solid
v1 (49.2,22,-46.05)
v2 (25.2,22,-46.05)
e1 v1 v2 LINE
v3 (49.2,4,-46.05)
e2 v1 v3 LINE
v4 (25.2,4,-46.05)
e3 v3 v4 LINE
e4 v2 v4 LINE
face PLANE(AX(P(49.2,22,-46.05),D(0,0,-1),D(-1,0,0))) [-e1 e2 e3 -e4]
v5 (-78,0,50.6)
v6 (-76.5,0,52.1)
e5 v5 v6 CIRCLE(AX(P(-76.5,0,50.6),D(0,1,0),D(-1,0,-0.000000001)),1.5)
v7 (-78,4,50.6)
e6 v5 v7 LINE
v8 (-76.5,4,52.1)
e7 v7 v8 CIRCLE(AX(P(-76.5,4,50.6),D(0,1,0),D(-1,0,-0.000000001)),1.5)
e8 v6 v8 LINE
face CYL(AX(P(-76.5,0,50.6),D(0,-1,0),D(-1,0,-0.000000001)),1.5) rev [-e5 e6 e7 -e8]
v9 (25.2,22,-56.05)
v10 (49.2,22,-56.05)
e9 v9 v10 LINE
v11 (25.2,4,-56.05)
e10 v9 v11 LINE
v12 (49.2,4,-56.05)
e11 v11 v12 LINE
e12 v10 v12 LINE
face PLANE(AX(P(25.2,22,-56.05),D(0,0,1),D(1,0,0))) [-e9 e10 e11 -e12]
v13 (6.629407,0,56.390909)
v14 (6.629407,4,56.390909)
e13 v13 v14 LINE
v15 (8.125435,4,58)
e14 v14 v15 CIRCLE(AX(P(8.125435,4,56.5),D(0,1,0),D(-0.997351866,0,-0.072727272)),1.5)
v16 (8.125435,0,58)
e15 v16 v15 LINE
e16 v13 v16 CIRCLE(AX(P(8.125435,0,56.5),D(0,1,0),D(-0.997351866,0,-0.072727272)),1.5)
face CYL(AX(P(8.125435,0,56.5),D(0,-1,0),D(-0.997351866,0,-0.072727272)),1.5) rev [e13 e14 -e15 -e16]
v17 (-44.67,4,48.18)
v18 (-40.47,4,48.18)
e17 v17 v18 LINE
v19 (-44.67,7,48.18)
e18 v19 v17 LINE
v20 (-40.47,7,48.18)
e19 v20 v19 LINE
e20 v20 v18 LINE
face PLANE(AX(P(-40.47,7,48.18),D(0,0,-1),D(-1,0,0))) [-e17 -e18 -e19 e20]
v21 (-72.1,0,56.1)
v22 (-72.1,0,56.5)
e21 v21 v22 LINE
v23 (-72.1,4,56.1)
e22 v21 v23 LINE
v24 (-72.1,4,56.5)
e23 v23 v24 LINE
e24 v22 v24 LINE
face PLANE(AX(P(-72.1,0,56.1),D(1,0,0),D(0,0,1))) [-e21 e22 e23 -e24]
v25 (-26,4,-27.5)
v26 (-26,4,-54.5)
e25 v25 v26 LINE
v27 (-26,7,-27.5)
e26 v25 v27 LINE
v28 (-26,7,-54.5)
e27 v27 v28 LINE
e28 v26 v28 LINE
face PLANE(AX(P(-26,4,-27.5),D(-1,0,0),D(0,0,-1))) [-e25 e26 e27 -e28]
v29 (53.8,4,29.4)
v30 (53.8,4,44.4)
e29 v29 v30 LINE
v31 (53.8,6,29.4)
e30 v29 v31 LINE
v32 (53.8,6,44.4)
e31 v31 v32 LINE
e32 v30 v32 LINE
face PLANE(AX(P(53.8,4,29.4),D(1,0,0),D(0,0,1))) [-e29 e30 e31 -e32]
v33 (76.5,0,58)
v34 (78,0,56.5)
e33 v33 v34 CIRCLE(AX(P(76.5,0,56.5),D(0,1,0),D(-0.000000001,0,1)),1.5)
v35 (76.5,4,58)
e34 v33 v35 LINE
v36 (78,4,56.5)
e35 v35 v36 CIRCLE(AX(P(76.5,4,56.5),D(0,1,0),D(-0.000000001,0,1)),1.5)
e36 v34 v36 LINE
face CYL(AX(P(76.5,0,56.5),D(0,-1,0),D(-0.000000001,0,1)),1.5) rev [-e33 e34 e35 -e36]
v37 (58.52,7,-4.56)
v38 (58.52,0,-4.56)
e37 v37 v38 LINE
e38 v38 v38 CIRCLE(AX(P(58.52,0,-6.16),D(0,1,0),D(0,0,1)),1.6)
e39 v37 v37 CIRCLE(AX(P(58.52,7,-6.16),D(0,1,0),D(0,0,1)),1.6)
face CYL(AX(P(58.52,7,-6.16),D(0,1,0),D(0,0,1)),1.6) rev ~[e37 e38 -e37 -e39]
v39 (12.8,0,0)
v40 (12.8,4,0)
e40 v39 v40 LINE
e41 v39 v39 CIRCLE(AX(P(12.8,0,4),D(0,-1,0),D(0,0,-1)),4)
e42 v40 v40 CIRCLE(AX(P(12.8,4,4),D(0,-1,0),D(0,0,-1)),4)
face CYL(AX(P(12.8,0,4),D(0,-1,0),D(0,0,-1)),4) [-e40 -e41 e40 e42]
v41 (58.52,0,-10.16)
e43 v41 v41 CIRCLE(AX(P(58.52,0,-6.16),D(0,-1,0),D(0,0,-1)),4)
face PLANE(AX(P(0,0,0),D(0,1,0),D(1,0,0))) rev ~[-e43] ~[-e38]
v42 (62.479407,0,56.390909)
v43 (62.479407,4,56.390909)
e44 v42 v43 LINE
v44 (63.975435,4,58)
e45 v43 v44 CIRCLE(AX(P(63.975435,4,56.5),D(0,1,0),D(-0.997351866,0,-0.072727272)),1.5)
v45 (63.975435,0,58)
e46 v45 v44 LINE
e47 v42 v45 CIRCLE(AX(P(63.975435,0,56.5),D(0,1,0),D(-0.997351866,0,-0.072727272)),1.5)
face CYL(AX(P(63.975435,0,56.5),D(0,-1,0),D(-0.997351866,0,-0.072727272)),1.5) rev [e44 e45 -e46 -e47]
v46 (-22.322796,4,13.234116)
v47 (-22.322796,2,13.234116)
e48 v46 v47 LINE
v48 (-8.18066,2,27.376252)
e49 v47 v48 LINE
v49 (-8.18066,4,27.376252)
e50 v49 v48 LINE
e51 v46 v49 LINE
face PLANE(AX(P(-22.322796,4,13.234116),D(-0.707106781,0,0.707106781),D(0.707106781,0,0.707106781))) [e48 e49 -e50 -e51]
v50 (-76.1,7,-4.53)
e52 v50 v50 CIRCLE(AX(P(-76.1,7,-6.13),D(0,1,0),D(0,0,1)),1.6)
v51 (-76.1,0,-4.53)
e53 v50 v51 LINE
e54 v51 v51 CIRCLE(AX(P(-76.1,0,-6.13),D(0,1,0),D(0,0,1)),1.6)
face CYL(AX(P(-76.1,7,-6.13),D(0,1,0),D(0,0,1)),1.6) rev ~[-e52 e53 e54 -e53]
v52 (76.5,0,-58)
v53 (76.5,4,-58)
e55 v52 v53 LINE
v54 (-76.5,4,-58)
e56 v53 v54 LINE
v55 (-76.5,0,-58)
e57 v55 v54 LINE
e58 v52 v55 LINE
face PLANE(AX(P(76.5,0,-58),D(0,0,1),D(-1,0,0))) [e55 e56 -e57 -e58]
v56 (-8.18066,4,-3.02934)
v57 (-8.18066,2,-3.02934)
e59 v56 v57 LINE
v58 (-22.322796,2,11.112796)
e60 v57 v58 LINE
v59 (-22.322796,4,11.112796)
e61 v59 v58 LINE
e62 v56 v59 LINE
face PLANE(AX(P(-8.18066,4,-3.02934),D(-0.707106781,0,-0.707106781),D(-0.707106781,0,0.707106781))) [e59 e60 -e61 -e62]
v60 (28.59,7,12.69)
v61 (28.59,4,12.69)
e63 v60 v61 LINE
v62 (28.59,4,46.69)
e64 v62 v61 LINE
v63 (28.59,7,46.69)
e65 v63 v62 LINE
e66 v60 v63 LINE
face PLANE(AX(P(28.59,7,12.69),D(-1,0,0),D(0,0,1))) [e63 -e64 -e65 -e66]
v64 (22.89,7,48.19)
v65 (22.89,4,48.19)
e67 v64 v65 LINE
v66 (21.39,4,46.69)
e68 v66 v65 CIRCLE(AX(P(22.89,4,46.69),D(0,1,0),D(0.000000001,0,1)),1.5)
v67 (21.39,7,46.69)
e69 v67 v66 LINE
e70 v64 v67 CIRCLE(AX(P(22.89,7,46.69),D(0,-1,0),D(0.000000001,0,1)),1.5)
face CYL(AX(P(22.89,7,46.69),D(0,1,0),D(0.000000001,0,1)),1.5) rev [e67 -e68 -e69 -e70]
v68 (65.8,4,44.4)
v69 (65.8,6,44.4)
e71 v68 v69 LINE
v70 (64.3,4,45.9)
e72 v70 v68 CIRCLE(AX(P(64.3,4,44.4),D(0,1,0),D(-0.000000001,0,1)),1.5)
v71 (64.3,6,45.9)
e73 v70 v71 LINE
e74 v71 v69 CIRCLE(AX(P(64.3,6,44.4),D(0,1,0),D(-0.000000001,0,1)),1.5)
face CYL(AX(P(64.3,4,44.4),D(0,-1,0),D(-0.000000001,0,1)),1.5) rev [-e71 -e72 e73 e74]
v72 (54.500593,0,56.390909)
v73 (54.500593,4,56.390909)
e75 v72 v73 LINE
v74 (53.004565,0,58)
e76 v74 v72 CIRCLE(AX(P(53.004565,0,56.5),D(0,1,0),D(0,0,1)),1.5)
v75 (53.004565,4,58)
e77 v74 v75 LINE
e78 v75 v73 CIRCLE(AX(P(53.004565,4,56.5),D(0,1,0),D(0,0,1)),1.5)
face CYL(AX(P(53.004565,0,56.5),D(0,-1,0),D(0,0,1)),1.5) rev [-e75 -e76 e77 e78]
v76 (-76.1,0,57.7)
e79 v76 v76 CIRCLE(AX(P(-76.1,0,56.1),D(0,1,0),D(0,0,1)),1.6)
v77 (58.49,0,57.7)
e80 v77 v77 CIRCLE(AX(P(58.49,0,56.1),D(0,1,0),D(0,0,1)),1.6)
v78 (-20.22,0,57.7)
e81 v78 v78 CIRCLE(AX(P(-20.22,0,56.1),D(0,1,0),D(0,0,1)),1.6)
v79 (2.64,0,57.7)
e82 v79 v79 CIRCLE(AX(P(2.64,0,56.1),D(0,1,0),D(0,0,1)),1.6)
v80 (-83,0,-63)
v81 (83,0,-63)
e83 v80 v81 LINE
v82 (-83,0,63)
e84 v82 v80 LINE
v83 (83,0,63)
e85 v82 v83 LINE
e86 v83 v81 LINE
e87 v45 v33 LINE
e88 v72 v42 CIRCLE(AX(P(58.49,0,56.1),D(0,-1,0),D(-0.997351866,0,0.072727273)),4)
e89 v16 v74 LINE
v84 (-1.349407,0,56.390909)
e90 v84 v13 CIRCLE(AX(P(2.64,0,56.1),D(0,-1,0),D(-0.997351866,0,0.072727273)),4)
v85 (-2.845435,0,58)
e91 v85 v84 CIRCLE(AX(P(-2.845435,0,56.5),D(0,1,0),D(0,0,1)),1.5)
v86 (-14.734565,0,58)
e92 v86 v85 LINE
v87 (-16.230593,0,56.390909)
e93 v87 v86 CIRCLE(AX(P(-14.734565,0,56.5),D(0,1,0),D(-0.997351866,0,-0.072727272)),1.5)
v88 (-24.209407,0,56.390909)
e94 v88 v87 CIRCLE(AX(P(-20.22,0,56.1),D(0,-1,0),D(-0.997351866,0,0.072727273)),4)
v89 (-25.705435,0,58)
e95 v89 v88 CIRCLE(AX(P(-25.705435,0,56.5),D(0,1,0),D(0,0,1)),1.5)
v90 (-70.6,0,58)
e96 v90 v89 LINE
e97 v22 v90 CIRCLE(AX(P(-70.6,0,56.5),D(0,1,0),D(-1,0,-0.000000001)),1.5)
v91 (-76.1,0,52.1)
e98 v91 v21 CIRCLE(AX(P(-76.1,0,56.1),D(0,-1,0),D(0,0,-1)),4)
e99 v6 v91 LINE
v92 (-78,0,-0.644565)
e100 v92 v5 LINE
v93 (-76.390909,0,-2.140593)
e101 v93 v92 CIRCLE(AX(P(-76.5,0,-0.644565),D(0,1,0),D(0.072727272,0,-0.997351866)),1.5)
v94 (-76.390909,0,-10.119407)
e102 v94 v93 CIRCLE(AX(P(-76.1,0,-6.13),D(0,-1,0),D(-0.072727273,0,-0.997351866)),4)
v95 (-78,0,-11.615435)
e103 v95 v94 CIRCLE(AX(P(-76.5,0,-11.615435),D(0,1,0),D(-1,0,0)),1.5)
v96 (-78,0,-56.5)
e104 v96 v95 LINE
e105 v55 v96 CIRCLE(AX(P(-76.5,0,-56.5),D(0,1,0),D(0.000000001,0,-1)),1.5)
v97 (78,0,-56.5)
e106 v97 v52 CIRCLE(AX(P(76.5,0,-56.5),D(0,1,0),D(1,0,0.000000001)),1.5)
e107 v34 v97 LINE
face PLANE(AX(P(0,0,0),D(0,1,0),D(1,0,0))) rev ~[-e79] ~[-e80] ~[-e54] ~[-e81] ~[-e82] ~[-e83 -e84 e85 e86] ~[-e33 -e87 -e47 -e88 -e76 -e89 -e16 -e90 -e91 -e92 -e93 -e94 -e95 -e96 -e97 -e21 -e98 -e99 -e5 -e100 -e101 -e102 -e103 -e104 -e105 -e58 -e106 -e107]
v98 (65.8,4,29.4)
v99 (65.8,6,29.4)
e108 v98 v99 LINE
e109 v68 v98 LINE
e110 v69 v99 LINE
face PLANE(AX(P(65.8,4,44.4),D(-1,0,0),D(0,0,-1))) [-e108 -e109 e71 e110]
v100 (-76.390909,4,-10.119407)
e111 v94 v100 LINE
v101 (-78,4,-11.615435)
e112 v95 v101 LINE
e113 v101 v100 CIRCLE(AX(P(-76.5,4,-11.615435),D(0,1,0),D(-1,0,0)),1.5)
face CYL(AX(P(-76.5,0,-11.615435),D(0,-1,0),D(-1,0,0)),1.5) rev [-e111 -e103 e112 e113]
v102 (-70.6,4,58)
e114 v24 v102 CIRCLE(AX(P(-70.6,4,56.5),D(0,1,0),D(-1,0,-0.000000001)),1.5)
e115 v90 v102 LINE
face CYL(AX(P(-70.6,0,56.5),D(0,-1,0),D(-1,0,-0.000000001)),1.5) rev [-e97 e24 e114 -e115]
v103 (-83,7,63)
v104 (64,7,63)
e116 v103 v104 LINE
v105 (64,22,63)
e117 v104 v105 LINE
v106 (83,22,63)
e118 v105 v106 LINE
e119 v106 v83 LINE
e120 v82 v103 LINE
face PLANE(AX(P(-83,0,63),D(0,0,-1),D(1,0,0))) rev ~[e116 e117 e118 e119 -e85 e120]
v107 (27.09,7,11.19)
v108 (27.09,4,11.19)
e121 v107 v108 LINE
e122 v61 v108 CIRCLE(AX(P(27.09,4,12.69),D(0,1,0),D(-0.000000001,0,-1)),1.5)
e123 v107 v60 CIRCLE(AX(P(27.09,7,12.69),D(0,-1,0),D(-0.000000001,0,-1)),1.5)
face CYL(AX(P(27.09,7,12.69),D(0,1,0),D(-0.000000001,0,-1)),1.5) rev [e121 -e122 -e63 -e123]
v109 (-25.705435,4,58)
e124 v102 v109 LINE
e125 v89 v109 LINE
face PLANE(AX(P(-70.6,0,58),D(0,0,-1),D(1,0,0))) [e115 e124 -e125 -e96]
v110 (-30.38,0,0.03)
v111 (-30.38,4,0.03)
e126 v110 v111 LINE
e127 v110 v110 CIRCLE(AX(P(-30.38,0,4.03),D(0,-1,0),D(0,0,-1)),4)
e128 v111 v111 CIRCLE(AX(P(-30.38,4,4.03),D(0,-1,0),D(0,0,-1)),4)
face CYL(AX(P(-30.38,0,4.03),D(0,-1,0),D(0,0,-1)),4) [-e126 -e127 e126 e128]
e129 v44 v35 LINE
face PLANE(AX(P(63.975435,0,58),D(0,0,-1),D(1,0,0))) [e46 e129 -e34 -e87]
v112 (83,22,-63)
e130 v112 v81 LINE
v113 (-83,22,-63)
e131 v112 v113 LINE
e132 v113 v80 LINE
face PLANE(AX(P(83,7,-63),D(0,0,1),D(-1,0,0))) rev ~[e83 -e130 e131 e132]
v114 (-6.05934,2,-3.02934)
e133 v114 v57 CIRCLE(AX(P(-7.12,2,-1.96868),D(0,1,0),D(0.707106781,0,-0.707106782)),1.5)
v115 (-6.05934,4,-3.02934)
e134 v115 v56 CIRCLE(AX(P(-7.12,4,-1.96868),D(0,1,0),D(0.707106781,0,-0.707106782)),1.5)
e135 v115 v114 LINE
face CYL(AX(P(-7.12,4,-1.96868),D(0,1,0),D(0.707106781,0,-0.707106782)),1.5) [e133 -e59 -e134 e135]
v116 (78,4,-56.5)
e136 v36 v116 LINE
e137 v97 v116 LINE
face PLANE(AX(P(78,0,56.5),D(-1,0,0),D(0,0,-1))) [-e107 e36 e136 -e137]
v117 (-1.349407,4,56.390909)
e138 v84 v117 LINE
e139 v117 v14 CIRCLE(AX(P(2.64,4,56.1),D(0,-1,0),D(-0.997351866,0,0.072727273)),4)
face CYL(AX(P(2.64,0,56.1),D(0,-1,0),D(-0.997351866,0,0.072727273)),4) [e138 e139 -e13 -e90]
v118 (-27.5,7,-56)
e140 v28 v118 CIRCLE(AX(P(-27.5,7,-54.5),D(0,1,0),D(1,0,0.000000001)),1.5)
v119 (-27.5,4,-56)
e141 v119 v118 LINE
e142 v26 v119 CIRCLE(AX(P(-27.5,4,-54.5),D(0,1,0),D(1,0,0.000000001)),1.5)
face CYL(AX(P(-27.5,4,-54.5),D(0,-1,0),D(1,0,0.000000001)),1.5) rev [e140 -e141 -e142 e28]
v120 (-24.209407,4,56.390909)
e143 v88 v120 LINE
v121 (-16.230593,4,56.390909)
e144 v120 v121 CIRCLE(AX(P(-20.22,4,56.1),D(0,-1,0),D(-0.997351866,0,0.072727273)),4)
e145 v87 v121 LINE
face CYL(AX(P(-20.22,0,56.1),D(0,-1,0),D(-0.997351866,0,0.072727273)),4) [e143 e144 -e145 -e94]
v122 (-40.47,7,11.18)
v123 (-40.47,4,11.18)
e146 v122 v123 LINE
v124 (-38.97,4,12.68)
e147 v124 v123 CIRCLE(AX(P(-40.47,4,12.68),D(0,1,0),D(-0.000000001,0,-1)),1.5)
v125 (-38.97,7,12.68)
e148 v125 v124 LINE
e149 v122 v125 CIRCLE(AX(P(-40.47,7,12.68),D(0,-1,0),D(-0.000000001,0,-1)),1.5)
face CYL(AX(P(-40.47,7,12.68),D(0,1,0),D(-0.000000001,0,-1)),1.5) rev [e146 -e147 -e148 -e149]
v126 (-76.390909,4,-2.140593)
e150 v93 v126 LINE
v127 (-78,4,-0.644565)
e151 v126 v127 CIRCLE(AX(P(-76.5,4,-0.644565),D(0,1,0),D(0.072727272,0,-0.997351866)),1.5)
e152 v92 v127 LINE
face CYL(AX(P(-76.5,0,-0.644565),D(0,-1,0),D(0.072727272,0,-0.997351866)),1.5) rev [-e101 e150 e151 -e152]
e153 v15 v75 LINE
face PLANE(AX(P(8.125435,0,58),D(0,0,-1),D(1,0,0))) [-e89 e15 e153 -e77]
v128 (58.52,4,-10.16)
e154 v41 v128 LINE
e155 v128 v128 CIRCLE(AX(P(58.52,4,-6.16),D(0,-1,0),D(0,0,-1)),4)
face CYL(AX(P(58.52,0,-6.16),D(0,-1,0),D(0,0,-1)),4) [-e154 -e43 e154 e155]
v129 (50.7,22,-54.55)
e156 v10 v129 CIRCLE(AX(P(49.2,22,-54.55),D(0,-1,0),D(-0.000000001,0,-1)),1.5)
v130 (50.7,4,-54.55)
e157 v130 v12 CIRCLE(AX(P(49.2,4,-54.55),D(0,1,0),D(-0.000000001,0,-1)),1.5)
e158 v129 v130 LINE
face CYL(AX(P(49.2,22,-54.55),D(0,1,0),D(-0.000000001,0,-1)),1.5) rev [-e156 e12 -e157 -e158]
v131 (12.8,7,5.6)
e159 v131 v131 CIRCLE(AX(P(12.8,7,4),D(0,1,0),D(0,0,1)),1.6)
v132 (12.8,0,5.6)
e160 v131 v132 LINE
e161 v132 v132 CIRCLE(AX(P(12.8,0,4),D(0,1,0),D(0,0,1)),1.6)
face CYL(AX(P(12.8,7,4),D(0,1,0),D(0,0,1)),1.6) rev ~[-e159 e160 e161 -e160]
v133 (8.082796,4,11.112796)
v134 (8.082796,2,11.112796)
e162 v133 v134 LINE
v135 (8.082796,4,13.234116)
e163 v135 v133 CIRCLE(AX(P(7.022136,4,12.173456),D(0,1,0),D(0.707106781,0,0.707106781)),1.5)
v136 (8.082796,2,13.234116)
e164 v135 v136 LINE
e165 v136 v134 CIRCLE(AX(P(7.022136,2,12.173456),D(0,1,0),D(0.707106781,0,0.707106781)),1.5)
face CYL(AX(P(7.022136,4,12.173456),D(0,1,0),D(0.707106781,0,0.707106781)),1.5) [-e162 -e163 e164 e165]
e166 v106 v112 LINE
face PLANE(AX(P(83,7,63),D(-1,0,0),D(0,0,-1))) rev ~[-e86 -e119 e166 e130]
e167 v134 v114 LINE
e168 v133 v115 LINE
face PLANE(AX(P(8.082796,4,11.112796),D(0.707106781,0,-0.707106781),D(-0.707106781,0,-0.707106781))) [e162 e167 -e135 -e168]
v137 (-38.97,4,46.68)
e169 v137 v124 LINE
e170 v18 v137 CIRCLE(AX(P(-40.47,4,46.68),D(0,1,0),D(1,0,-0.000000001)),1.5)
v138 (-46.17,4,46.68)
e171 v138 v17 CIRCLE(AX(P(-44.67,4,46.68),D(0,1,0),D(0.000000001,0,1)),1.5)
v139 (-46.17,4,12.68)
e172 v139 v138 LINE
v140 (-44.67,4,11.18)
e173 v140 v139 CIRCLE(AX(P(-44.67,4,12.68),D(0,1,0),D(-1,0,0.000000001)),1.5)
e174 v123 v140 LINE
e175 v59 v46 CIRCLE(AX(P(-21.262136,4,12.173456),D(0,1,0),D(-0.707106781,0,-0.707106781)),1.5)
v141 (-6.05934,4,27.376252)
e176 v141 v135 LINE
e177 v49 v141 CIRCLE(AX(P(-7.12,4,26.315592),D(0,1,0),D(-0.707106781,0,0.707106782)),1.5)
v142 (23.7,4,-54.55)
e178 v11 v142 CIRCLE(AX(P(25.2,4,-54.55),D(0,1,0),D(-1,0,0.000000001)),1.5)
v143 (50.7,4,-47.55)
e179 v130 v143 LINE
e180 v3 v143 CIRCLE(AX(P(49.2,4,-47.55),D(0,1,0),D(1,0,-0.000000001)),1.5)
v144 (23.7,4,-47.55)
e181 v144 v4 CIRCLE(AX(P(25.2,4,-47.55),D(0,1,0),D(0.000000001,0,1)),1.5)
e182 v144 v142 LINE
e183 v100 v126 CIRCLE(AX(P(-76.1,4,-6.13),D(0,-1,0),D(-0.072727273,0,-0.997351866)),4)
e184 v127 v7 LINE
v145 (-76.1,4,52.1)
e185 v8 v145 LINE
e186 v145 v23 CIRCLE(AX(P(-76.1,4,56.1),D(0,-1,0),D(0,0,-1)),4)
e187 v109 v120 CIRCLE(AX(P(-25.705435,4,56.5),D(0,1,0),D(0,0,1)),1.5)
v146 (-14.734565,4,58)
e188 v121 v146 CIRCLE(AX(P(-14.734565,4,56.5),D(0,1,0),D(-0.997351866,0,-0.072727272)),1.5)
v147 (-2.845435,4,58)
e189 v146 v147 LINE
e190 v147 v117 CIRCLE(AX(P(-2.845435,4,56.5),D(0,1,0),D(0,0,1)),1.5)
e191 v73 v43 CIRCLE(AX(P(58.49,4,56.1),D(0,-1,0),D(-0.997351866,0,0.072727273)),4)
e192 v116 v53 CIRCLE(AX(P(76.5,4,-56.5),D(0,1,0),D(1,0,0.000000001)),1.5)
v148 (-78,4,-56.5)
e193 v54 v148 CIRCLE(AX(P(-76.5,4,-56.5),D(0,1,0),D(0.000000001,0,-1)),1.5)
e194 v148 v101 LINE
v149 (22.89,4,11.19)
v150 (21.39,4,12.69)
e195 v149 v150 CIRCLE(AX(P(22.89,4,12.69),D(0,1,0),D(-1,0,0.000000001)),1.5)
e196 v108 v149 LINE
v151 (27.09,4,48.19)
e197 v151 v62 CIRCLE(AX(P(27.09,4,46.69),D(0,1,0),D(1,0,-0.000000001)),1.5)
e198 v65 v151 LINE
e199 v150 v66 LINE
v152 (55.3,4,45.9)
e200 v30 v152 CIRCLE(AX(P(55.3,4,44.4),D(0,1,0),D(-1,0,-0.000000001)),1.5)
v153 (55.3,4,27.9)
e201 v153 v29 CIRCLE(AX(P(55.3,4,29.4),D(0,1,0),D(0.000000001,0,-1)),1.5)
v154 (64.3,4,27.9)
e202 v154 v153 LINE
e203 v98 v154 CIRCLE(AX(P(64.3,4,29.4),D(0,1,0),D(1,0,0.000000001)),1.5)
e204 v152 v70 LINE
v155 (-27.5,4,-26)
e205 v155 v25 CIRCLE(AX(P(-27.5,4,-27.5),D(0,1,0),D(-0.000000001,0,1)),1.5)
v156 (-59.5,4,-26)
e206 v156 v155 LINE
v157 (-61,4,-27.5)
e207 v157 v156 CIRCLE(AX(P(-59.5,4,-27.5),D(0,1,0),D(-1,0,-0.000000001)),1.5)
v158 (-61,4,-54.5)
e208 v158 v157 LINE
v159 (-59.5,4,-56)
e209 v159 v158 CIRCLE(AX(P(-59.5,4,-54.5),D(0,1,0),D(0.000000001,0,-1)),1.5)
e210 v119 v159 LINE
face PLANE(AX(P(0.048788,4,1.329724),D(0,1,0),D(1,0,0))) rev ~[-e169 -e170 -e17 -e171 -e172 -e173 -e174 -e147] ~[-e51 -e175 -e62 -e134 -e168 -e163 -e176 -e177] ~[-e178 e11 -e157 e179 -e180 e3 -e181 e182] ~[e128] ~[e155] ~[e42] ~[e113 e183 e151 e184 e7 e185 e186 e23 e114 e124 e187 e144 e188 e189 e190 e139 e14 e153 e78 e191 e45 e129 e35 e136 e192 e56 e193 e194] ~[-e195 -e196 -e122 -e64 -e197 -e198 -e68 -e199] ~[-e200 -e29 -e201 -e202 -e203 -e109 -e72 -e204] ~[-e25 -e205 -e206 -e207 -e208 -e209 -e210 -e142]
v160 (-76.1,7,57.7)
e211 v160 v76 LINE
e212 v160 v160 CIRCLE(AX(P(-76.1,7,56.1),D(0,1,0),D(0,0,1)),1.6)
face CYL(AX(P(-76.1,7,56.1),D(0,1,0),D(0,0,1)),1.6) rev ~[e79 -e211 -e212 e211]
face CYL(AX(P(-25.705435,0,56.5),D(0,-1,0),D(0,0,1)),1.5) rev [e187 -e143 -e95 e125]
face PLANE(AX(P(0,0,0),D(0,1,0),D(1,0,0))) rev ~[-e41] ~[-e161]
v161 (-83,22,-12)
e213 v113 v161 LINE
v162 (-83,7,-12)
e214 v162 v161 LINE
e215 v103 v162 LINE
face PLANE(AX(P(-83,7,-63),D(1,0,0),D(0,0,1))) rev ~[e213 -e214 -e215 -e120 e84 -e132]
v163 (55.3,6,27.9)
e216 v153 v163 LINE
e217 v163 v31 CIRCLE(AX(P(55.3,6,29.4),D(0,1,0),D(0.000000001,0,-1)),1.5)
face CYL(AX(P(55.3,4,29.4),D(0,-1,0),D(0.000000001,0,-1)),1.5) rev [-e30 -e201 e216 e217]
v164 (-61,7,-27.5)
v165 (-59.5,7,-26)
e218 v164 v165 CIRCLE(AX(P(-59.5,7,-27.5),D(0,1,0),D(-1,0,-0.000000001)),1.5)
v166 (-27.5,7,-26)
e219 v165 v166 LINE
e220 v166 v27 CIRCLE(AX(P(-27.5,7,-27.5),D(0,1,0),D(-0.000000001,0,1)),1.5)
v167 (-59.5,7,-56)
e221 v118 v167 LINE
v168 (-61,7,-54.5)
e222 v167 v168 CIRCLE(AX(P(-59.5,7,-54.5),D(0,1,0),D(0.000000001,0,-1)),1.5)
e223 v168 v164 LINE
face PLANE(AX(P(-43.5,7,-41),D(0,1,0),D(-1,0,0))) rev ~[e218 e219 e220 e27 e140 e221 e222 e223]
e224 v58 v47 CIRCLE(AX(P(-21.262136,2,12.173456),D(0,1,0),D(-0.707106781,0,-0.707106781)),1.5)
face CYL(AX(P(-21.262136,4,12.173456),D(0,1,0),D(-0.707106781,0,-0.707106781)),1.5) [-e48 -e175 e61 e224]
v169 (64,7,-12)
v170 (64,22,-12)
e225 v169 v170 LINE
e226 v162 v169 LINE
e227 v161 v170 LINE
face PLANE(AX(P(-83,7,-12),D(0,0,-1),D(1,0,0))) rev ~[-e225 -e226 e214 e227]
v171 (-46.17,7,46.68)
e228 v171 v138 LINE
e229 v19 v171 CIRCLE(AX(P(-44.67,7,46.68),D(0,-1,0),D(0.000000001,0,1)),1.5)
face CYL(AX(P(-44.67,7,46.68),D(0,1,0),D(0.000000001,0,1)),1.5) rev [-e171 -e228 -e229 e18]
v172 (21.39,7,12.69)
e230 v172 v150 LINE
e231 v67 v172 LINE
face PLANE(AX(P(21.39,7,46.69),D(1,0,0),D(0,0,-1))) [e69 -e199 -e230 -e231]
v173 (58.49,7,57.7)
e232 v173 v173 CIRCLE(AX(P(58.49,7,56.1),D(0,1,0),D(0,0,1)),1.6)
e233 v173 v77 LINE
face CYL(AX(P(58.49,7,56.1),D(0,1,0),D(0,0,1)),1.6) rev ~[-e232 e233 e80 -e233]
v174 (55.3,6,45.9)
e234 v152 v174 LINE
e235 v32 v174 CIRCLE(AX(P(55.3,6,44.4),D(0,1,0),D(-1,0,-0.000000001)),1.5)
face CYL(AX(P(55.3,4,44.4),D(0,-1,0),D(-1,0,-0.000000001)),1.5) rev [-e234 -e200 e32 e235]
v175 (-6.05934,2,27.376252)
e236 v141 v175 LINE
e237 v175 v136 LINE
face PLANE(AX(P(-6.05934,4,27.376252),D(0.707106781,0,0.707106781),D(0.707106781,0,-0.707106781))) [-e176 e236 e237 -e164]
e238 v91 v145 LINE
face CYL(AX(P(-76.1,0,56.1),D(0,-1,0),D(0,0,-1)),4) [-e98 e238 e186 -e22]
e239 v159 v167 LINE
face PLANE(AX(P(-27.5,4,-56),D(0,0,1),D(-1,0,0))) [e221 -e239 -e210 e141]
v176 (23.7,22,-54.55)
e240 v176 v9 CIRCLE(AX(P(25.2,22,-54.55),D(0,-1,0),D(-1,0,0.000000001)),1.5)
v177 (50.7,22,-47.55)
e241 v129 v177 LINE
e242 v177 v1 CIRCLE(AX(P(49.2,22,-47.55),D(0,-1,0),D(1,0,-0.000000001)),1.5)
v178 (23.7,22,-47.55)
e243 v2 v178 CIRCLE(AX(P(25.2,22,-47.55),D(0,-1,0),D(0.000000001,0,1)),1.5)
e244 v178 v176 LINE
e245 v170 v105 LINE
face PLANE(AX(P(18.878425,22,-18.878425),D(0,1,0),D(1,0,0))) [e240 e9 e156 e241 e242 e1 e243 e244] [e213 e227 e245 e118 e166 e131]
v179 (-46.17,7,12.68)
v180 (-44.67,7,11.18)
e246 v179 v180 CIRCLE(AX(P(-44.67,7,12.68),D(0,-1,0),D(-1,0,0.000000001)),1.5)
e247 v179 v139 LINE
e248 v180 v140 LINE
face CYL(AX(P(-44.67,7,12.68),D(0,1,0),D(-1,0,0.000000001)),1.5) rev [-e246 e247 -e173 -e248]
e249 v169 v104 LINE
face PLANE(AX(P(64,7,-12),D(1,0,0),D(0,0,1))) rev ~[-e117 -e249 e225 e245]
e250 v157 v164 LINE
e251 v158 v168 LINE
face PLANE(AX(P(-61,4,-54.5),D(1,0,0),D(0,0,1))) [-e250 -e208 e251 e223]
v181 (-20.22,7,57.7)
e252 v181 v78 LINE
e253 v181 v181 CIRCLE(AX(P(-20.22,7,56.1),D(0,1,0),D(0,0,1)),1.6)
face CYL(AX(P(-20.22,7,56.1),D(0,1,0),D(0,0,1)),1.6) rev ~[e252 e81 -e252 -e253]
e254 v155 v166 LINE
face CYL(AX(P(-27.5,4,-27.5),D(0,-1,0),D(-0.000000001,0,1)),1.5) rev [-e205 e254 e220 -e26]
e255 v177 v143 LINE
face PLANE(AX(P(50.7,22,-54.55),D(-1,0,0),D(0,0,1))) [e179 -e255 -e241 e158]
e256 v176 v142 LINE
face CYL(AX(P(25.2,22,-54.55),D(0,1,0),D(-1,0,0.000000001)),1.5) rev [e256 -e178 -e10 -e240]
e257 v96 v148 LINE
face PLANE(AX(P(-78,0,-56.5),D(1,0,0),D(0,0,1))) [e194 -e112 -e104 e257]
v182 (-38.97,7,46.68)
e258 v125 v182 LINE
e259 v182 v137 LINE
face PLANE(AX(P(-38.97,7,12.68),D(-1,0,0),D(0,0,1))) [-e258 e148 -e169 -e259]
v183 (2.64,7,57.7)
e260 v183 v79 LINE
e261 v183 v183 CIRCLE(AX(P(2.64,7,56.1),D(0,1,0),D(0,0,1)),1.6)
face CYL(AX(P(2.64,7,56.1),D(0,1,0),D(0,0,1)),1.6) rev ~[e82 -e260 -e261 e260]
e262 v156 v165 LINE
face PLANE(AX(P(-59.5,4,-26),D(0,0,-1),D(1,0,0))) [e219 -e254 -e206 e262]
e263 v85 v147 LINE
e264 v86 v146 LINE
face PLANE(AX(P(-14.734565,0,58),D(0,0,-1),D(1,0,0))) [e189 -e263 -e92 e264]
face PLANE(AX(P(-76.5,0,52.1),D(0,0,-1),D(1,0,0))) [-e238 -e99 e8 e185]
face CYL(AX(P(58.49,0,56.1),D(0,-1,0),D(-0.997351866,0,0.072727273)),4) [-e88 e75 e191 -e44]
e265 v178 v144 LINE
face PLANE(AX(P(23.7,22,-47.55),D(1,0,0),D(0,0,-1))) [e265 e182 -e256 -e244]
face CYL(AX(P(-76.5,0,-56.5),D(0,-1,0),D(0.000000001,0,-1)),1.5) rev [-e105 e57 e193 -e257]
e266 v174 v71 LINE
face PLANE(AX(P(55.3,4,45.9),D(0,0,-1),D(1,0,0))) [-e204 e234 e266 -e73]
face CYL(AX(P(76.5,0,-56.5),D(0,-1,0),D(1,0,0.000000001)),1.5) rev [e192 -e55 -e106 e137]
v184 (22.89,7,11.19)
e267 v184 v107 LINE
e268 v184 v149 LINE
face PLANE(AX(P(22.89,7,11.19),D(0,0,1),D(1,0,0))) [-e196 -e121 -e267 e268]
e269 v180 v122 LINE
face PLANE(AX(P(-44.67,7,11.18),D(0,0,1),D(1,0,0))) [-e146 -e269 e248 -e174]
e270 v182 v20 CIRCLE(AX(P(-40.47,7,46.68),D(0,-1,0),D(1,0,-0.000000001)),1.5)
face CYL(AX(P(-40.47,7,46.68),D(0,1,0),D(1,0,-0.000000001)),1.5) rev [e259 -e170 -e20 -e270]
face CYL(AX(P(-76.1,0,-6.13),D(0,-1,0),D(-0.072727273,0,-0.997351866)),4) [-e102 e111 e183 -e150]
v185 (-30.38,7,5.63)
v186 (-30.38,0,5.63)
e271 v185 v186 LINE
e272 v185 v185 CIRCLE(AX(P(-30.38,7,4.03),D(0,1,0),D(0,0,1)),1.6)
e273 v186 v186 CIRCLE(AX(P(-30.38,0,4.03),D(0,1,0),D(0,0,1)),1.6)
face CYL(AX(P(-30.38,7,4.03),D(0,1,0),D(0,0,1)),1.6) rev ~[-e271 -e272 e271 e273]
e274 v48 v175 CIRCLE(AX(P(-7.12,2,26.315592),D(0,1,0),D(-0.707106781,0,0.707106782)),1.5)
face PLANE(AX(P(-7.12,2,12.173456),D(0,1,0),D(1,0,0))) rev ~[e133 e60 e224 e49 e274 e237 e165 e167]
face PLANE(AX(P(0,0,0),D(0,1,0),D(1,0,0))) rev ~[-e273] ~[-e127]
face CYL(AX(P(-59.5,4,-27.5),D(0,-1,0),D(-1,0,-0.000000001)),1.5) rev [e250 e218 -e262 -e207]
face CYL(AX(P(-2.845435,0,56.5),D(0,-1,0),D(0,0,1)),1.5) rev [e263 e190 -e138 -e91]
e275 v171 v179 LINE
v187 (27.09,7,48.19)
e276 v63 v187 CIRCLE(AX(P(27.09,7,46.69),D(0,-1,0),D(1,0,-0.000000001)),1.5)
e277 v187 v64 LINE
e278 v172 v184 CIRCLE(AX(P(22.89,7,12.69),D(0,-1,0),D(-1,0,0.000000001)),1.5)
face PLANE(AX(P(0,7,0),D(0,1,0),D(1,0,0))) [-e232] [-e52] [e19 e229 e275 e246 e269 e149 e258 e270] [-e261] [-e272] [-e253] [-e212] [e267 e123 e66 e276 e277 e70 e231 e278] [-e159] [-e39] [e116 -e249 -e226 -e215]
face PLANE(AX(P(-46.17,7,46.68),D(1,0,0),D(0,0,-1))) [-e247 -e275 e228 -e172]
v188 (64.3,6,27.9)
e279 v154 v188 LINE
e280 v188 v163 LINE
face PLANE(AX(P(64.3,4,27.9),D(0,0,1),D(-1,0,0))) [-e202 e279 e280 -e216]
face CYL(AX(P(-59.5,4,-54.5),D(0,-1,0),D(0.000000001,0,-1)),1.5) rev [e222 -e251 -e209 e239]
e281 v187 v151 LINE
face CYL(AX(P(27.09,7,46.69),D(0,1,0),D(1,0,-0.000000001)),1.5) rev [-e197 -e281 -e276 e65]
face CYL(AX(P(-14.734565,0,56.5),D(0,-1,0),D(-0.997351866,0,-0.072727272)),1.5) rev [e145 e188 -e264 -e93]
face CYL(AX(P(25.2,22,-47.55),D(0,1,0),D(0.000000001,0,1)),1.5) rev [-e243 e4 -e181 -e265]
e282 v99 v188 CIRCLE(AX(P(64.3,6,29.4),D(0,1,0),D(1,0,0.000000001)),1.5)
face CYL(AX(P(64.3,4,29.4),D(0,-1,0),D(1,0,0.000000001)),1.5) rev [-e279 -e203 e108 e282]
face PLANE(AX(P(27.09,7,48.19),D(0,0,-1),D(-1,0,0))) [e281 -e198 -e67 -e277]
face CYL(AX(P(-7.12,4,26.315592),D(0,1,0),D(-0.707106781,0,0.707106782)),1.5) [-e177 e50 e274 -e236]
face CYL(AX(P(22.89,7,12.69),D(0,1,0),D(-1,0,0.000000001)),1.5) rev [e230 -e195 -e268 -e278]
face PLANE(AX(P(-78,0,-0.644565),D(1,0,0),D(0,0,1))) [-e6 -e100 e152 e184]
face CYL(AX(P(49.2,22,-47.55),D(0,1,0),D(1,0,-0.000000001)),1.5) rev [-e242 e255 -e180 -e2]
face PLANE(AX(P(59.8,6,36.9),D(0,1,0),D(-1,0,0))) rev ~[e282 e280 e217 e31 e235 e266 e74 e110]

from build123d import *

# Parameters (mm, degrees)
SKETCH1_W           = 166
SKETCH1_H           = 126
BOSS_EXTRUDE1_DEPTH = 7
BOSS_EXTRUDE2_DEPTH = 15
CUT_EXTRUDE1_REACH  = 107.276
SKETCH4_R           = 1.6
CUT_EXTRUDE2_DEPTH  = 106.275828185
SKETCH5_R           = 4
CUT_EXTRUDE3_DEPTH  = 4
CUT_EXTRUDE4_DEPTH  = 107.498826285
CUT_EXTRUDE5_DEPTH  = 3
CUT_EXTRUDE6_DEPTH  = 2
BOSS_EXTRUDE3_DEPTH = 2


with BuildPart() as part:
    # Sketch1 → Boss-Extrude1 (new body)
    with BuildSketch(Plane(origin=(0, 0, 0), x_dir=(1, 0, 0), z_dir=(0, 1, 0))):
        Rectangle(SKETCH1_W, SKETCH1_H)
    extrude(amount=BOSS_EXTRUDE1_DEPTH)

    # Sketch2 → Boss-Extrude2 (add)
    with BuildSketch(Plane(origin=(0, 7, 0), x_dir=(1, 0, 0), z_dir=(0, 1, 0))):
        Polygon((-83, 63), (-83, 12), (64, 12), (64, -63), (83, -63), (83, 63), align=None)
    extrude(amount=BOSS_EXTRUDE2_DEPTH)

    # Sketch3 → Cut-Extrude1 (cut, up to next)
    with BuildSketch(Plane(origin=(0, 7, 0), x_dir=(1, 0, 0), z_dir=(0, 1, 0)), mode=Mode.PRIVATE) as cut_extrude1_sk1:
        with BuildLine():
            Line((-44.67, -11.18), (-40.47, -11.18))
            ThreePointArc((-40.47, -11.18), (-39.409339828, -11.619339828), (-38.97, -12.68))
            Line((-38.97, -12.68), (-38.97, -46.68))
            ThreePointArc((-38.97, -46.68), (-39.409339828, -47.740660172), (-40.47, -48.18))
            Line((-40.47, -48.18), (-44.67, -48.18))
            ThreePointArc((-44.67, -48.18), (-45.730660172, -47.740660172), (-46.17, -46.68))
            Line((-46.17, -46.68), (-46.17, -12.68))
            ThreePointArc((-46.17, -12.68), (-45.730660172, -11.619339828), (-44.67, -11.18))
        make_face()
    cut_extrude1_tool1 = extrude(cut_extrude1_sk1.sketch, amount=-CUT_EXTRUDE1_REACH, mode=Mode.PRIVATE) & part.part
    # Sketch3 → Cut-Extrude1 (cut, up to next)
    with BuildSketch(Plane(origin=(0, 7, 0), x_dir=(1, 0, 0), z_dir=(0, 1, 0)), mode=Mode.PRIVATE) as cut_extrude1_sk2:
        with BuildLine():
            Line((22.89, -11.19), (27.09, -11.19))
            ThreePointArc((27.09, -11.19), (28.150660172, -11.629339828), (28.59, -12.69))
            Line((28.59, -12.69), (28.59, -46.69))
            ThreePointArc((28.59, -46.69), (28.150660172, -47.750660172), (27.09, -48.19))
            Line((27.09, -48.19), (22.89, -48.19))
            ThreePointArc((22.89, -48.19), (21.829339828, -47.750660172), (21.39, -46.69))
            Line((21.39, -46.69), (21.39, -12.69))
            ThreePointArc((21.39, -12.69), (21.829339828, -11.629339828), (22.89, -11.19))
        make_face()
    cut_extrude1_tool2 = extrude(cut_extrude1_sk2.sketch, amount=-CUT_EXTRUDE1_REACH, mode=Mode.PRIVATE) & part.part
    add(cut_extrude1_tool1.solids().sort_by_distance((-42.57, 7, 29.68))[0], mode=Mode.SUBTRACT)
    add(cut_extrude1_tool2.solids().sort_by_distance((24.99, 7, 29.69))[0], mode=Mode.SUBTRACT)

    # Sketch4 → Cut-Extrude2 (cut, through all)
    with BuildSketch(Plane(origin=(0, 7, 0), x_dir=(1, 0, 0), z_dir=(0, 1, 0))):
        with Locations(Location((-76.1, -56.1, 0), (0, 0, 270))):
            Circle(SKETCH4_R)
        with Locations(Location((-20.22, -56.1, 0), (0, 0, 270))):
            Circle(SKETCH4_R)
        with Locations(Location((2.64, -56.1, 0), (0, 0, 270))):
            Circle(SKETCH4_R)
        with Locations(Location((58.49, -56.1, 0), (0, 0, 270))):
            Circle(SKETCH4_R)
        with Locations(Location((-76.1, 6.13, 0), (0, 0, 270))):
            Circle(SKETCH4_R)
        with Locations(Location((-30.38, -4.03, 0), (0, 0, 270))):
            Circle(SKETCH4_R)
        with Locations(Location((58.52, 6.16, 0), (0, 0, 270))):
            Circle(SKETCH4_R)
        with Locations(Location((12.8, -4, 0), (0, 0, 270))):
            Circle(SKETCH4_R)
    extrude(amount=-CUT_EXTRUDE2_DEPTH, mode=Mode.SUBTRACT)

    # Sketch5 → Cut-Extrude3 (cut)
    with BuildSketch(Plane(origin=(0, 0, 0), x_dir=(-1, 0, 0), z_dir=(0, -1, 0))):
        with BuildLine():
            Line((70.6, -58), (25.705435261, -58))
            ThreePointArc((25.705435261, -58), (24.606882494, -57.521362726), (24.209407462, -56.390909091))
            ThreePointArc((24.209407462, -56.390909091), (20.22, -52.1), (16.230592538, -56.390909091))
            ThreePointArc((16.230592538, -56.390909091), (15.833117506, -57.521362726), (14.734564739, -58))
            Line((14.734564739, -58), (2.845435261, -58))
            ThreePointArc((2.845435261, -58), (1.746882494, -57.521362726), (1.349407462, -56.390909091))
            ThreePointArc((1.349407462, -56.390909091), (-2.64, -52.1), (-6.629407462, -56.390909091))
            ThreePointArc((-6.629407462, -56.390909091), (-7.026882494, -57.521362726), (-8.125435261, -58))
            Line((-8.125435261, -58), (-53.004564739, -58))
            ThreePointArc((-53.004564739, -58), (-54.103117506, -57.521362726), (-54.500592538, -56.390909091))
            ThreePointArc((-54.500592538, -56.390909091), (-58.49, -52.1), (-62.479407462, -56.390909091))
            ThreePointArc((-62.479407462, -56.390909091), (-62.876882494, -57.521362726), (-63.975435261, -58))
            Line((-63.975435261, -58), (-76.5, -58))
            ThreePointArc((-76.5, -58), (-77.560660172, -57.560660172), (-78, -56.5))
            Line((-78, -56.5), (-78, 56.5))
            ThreePointArc((-78, 56.5), (-77.560660172, 57.560660172), (-76.5, 58))
            Line((-76.5, 58), (76.5, 58))
            ThreePointArc((76.5, 58), (77.560660172, 57.560660172), (78, 56.5))
            Line((78, 56.5), (78, 11.615435261))
            ThreePointArc((78, 11.615435261), (77.521362726, 10.516882494), (76.390909091, 10.119407462))
            ThreePointArc((76.390909091, 10.119407462), (72.1, 6.13), (76.390909091, 2.140592538))
            ThreePointArc((76.390909091, 2.140592538), (77.521362726, 1.743117506), (78, 0.644564739))
            Line((78, 0.644564739), (78, -50.6))
            ThreePointArc((78, -50.6), (77.560660172, -51.660660172), (76.5, -52.1))
            Line((76.5, -52.1), (76.1, -52.1))
            ThreePointArc((76.1, -52.1), (73.271572875, -53.271572875), (72.1, -56.1))
            Line((72.1, -56.1), (72.1, -56.5))
            ThreePointArc((72.1, -56.5), (71.660660172, -57.560660172), (70.6, -58))
        make_face()
        with Locations(Location((30.38, -4.03, 0), (0, 0, 90))):
            Circle(SKETCH5_R, mode=Mode.SUBTRACT)
        with Locations(Location((-12.8, -4, 0), (0, 0, 90))):
            Circle(SKETCH5_R, mode=Mode.SUBTRACT)
        with Locations(Location((-58.52, 6.16, 0), (0, 0, 90))):
            Circle(SKETCH5_R, mode=Mode.SUBTRACT)
    extrude(amount=-CUT_EXTRUDE3_DEPTH, mode=Mode.SUBTRACT)

    # Sketch6 → Cut-Extrude4 (cut, through all)
    with BuildSketch(Plane(origin=(0, 22, 0), x_dir=(1, 0, 0), z_dir=(0, 1, 0))):
        with BuildLine():
            Line((25.2, 56.05), (49.2, 56.05))
            ThreePointArc((49.2, 56.05), (50.260660172, 55.610660172), (50.7, 54.55))
            Line((50.7, 54.55), (50.7, 47.55))
            ThreePointArc((50.7, 47.55), (50.260660172, 46.489339828), (49.2, 46.05))
            Line((49.2, 46.05), (25.2, 46.05))
            ThreePointArc((25.2, 46.05), (24.139339828, 46.489339828), (23.7, 47.55))
            Line((23.7, 47.55), (23.7, 54.55))
            ThreePointArc((23.7, 54.55), (24.139339828, 55.610660172), (25.2, 56.05))
        make_face()
    extrude(amount=-CUT_EXTRUDE4_DEPTH, mode=Mode.SUBTRACT)

    # Sketch7 → Cut-Extrude5 (cut)
    with BuildSketch(Plane.XZ.offset(-4)):
        with BuildLine():
            Line((-27.5, -56), (-59.5, -56))
            ThreePointArc((-59.5, -56), (-60.560660172, -55.560660172), (-61, -54.5))
            Line((-61, -54.5), (-61, -27.5))
            ThreePointArc((-61, -27.5), (-60.560660172, -26.439339828), (-59.5, -26))
            Line((-59.5, -26), (-27.5, -26))
            ThreePointArc((-27.5, -26), (-26.439339828, -26.439339828), (-26, -27.5))
            Line((-26, -27.5), (-26, -54.5))
            ThreePointArc((-26, -54.5), (-26.439339828, -55.560660172), (-27.5, -56))
        make_face()
    extrude(amount=-CUT_EXTRUDE5_DEPTH, mode=Mode.SUBTRACT)

    # Sketch8 → Cut-Extrude6 (cut)
    with BuildSketch(Plane.XZ.offset(-4)):
        with BuildLine():
            Line((55.3, 45.9), (64.3, 45.9))
            ThreePointArc((64.3, 45.9), (65.360660172, 45.460660172), (65.8, 44.4))
            Line((65.8, 44.4), (65.8, 29.4))
            ThreePointArc((65.8, 29.4), (65.360660172, 28.339339828), (64.3, 27.9))
            Line((64.3, 27.9), (55.3, 27.9))
            ThreePointArc((55.3, 27.9), (54.239339828, 28.339339828), (53.8, 29.4))
            Line((53.8, 29.4), (53.8, 44.4))
            ThreePointArc((53.8, 44.4), (54.239339828, 45.460660172), (55.3, 45.9))
        make_face()
    extrude(amount=-CUT_EXTRUDE6_DEPTH, mode=Mode.SUBTRACT)

    # Sketch9 → Boss-Extrude3 (add)
    with BuildSketch(Plane(origin=(0, 4, 0), x_dir=(-1, 0, 0), z_dir=(0, -1, 0))):
        with BuildLine():
            Line((-8.082795796, -11.112795796), (6.059339828, 3.029339828))
            ThreePointArc((6.059339828, 3.029339828), (7.12, 3.468679656), (8.180660172, 3.029339828))
            Line((8.180660172, 3.029339828), (22.322795796, -11.112795796))
            ThreePointArc((22.322795796, -11.112795796), (22.762135624, -12.173455967), (22.322795796, -13.234116139))
            Line((22.322795796, -13.234116139), (8.180660172, -27.376251763))
            ThreePointArc((8.180660172, -27.376251763), (7.12, -27.815591591), (6.059339828, -27.376251763))
            Line((6.059339828, -27.376251763), (-8.082795796, -13.234116139))
            ThreePointArc((-8.082795796, -13.234116139), (-8.522135624, -12.173455967), (-8.082795796, -11.112795796))
        make_face()
    extrude(amount=BOSS_EXTRUDE3_DEPTH)


solid = part.part
